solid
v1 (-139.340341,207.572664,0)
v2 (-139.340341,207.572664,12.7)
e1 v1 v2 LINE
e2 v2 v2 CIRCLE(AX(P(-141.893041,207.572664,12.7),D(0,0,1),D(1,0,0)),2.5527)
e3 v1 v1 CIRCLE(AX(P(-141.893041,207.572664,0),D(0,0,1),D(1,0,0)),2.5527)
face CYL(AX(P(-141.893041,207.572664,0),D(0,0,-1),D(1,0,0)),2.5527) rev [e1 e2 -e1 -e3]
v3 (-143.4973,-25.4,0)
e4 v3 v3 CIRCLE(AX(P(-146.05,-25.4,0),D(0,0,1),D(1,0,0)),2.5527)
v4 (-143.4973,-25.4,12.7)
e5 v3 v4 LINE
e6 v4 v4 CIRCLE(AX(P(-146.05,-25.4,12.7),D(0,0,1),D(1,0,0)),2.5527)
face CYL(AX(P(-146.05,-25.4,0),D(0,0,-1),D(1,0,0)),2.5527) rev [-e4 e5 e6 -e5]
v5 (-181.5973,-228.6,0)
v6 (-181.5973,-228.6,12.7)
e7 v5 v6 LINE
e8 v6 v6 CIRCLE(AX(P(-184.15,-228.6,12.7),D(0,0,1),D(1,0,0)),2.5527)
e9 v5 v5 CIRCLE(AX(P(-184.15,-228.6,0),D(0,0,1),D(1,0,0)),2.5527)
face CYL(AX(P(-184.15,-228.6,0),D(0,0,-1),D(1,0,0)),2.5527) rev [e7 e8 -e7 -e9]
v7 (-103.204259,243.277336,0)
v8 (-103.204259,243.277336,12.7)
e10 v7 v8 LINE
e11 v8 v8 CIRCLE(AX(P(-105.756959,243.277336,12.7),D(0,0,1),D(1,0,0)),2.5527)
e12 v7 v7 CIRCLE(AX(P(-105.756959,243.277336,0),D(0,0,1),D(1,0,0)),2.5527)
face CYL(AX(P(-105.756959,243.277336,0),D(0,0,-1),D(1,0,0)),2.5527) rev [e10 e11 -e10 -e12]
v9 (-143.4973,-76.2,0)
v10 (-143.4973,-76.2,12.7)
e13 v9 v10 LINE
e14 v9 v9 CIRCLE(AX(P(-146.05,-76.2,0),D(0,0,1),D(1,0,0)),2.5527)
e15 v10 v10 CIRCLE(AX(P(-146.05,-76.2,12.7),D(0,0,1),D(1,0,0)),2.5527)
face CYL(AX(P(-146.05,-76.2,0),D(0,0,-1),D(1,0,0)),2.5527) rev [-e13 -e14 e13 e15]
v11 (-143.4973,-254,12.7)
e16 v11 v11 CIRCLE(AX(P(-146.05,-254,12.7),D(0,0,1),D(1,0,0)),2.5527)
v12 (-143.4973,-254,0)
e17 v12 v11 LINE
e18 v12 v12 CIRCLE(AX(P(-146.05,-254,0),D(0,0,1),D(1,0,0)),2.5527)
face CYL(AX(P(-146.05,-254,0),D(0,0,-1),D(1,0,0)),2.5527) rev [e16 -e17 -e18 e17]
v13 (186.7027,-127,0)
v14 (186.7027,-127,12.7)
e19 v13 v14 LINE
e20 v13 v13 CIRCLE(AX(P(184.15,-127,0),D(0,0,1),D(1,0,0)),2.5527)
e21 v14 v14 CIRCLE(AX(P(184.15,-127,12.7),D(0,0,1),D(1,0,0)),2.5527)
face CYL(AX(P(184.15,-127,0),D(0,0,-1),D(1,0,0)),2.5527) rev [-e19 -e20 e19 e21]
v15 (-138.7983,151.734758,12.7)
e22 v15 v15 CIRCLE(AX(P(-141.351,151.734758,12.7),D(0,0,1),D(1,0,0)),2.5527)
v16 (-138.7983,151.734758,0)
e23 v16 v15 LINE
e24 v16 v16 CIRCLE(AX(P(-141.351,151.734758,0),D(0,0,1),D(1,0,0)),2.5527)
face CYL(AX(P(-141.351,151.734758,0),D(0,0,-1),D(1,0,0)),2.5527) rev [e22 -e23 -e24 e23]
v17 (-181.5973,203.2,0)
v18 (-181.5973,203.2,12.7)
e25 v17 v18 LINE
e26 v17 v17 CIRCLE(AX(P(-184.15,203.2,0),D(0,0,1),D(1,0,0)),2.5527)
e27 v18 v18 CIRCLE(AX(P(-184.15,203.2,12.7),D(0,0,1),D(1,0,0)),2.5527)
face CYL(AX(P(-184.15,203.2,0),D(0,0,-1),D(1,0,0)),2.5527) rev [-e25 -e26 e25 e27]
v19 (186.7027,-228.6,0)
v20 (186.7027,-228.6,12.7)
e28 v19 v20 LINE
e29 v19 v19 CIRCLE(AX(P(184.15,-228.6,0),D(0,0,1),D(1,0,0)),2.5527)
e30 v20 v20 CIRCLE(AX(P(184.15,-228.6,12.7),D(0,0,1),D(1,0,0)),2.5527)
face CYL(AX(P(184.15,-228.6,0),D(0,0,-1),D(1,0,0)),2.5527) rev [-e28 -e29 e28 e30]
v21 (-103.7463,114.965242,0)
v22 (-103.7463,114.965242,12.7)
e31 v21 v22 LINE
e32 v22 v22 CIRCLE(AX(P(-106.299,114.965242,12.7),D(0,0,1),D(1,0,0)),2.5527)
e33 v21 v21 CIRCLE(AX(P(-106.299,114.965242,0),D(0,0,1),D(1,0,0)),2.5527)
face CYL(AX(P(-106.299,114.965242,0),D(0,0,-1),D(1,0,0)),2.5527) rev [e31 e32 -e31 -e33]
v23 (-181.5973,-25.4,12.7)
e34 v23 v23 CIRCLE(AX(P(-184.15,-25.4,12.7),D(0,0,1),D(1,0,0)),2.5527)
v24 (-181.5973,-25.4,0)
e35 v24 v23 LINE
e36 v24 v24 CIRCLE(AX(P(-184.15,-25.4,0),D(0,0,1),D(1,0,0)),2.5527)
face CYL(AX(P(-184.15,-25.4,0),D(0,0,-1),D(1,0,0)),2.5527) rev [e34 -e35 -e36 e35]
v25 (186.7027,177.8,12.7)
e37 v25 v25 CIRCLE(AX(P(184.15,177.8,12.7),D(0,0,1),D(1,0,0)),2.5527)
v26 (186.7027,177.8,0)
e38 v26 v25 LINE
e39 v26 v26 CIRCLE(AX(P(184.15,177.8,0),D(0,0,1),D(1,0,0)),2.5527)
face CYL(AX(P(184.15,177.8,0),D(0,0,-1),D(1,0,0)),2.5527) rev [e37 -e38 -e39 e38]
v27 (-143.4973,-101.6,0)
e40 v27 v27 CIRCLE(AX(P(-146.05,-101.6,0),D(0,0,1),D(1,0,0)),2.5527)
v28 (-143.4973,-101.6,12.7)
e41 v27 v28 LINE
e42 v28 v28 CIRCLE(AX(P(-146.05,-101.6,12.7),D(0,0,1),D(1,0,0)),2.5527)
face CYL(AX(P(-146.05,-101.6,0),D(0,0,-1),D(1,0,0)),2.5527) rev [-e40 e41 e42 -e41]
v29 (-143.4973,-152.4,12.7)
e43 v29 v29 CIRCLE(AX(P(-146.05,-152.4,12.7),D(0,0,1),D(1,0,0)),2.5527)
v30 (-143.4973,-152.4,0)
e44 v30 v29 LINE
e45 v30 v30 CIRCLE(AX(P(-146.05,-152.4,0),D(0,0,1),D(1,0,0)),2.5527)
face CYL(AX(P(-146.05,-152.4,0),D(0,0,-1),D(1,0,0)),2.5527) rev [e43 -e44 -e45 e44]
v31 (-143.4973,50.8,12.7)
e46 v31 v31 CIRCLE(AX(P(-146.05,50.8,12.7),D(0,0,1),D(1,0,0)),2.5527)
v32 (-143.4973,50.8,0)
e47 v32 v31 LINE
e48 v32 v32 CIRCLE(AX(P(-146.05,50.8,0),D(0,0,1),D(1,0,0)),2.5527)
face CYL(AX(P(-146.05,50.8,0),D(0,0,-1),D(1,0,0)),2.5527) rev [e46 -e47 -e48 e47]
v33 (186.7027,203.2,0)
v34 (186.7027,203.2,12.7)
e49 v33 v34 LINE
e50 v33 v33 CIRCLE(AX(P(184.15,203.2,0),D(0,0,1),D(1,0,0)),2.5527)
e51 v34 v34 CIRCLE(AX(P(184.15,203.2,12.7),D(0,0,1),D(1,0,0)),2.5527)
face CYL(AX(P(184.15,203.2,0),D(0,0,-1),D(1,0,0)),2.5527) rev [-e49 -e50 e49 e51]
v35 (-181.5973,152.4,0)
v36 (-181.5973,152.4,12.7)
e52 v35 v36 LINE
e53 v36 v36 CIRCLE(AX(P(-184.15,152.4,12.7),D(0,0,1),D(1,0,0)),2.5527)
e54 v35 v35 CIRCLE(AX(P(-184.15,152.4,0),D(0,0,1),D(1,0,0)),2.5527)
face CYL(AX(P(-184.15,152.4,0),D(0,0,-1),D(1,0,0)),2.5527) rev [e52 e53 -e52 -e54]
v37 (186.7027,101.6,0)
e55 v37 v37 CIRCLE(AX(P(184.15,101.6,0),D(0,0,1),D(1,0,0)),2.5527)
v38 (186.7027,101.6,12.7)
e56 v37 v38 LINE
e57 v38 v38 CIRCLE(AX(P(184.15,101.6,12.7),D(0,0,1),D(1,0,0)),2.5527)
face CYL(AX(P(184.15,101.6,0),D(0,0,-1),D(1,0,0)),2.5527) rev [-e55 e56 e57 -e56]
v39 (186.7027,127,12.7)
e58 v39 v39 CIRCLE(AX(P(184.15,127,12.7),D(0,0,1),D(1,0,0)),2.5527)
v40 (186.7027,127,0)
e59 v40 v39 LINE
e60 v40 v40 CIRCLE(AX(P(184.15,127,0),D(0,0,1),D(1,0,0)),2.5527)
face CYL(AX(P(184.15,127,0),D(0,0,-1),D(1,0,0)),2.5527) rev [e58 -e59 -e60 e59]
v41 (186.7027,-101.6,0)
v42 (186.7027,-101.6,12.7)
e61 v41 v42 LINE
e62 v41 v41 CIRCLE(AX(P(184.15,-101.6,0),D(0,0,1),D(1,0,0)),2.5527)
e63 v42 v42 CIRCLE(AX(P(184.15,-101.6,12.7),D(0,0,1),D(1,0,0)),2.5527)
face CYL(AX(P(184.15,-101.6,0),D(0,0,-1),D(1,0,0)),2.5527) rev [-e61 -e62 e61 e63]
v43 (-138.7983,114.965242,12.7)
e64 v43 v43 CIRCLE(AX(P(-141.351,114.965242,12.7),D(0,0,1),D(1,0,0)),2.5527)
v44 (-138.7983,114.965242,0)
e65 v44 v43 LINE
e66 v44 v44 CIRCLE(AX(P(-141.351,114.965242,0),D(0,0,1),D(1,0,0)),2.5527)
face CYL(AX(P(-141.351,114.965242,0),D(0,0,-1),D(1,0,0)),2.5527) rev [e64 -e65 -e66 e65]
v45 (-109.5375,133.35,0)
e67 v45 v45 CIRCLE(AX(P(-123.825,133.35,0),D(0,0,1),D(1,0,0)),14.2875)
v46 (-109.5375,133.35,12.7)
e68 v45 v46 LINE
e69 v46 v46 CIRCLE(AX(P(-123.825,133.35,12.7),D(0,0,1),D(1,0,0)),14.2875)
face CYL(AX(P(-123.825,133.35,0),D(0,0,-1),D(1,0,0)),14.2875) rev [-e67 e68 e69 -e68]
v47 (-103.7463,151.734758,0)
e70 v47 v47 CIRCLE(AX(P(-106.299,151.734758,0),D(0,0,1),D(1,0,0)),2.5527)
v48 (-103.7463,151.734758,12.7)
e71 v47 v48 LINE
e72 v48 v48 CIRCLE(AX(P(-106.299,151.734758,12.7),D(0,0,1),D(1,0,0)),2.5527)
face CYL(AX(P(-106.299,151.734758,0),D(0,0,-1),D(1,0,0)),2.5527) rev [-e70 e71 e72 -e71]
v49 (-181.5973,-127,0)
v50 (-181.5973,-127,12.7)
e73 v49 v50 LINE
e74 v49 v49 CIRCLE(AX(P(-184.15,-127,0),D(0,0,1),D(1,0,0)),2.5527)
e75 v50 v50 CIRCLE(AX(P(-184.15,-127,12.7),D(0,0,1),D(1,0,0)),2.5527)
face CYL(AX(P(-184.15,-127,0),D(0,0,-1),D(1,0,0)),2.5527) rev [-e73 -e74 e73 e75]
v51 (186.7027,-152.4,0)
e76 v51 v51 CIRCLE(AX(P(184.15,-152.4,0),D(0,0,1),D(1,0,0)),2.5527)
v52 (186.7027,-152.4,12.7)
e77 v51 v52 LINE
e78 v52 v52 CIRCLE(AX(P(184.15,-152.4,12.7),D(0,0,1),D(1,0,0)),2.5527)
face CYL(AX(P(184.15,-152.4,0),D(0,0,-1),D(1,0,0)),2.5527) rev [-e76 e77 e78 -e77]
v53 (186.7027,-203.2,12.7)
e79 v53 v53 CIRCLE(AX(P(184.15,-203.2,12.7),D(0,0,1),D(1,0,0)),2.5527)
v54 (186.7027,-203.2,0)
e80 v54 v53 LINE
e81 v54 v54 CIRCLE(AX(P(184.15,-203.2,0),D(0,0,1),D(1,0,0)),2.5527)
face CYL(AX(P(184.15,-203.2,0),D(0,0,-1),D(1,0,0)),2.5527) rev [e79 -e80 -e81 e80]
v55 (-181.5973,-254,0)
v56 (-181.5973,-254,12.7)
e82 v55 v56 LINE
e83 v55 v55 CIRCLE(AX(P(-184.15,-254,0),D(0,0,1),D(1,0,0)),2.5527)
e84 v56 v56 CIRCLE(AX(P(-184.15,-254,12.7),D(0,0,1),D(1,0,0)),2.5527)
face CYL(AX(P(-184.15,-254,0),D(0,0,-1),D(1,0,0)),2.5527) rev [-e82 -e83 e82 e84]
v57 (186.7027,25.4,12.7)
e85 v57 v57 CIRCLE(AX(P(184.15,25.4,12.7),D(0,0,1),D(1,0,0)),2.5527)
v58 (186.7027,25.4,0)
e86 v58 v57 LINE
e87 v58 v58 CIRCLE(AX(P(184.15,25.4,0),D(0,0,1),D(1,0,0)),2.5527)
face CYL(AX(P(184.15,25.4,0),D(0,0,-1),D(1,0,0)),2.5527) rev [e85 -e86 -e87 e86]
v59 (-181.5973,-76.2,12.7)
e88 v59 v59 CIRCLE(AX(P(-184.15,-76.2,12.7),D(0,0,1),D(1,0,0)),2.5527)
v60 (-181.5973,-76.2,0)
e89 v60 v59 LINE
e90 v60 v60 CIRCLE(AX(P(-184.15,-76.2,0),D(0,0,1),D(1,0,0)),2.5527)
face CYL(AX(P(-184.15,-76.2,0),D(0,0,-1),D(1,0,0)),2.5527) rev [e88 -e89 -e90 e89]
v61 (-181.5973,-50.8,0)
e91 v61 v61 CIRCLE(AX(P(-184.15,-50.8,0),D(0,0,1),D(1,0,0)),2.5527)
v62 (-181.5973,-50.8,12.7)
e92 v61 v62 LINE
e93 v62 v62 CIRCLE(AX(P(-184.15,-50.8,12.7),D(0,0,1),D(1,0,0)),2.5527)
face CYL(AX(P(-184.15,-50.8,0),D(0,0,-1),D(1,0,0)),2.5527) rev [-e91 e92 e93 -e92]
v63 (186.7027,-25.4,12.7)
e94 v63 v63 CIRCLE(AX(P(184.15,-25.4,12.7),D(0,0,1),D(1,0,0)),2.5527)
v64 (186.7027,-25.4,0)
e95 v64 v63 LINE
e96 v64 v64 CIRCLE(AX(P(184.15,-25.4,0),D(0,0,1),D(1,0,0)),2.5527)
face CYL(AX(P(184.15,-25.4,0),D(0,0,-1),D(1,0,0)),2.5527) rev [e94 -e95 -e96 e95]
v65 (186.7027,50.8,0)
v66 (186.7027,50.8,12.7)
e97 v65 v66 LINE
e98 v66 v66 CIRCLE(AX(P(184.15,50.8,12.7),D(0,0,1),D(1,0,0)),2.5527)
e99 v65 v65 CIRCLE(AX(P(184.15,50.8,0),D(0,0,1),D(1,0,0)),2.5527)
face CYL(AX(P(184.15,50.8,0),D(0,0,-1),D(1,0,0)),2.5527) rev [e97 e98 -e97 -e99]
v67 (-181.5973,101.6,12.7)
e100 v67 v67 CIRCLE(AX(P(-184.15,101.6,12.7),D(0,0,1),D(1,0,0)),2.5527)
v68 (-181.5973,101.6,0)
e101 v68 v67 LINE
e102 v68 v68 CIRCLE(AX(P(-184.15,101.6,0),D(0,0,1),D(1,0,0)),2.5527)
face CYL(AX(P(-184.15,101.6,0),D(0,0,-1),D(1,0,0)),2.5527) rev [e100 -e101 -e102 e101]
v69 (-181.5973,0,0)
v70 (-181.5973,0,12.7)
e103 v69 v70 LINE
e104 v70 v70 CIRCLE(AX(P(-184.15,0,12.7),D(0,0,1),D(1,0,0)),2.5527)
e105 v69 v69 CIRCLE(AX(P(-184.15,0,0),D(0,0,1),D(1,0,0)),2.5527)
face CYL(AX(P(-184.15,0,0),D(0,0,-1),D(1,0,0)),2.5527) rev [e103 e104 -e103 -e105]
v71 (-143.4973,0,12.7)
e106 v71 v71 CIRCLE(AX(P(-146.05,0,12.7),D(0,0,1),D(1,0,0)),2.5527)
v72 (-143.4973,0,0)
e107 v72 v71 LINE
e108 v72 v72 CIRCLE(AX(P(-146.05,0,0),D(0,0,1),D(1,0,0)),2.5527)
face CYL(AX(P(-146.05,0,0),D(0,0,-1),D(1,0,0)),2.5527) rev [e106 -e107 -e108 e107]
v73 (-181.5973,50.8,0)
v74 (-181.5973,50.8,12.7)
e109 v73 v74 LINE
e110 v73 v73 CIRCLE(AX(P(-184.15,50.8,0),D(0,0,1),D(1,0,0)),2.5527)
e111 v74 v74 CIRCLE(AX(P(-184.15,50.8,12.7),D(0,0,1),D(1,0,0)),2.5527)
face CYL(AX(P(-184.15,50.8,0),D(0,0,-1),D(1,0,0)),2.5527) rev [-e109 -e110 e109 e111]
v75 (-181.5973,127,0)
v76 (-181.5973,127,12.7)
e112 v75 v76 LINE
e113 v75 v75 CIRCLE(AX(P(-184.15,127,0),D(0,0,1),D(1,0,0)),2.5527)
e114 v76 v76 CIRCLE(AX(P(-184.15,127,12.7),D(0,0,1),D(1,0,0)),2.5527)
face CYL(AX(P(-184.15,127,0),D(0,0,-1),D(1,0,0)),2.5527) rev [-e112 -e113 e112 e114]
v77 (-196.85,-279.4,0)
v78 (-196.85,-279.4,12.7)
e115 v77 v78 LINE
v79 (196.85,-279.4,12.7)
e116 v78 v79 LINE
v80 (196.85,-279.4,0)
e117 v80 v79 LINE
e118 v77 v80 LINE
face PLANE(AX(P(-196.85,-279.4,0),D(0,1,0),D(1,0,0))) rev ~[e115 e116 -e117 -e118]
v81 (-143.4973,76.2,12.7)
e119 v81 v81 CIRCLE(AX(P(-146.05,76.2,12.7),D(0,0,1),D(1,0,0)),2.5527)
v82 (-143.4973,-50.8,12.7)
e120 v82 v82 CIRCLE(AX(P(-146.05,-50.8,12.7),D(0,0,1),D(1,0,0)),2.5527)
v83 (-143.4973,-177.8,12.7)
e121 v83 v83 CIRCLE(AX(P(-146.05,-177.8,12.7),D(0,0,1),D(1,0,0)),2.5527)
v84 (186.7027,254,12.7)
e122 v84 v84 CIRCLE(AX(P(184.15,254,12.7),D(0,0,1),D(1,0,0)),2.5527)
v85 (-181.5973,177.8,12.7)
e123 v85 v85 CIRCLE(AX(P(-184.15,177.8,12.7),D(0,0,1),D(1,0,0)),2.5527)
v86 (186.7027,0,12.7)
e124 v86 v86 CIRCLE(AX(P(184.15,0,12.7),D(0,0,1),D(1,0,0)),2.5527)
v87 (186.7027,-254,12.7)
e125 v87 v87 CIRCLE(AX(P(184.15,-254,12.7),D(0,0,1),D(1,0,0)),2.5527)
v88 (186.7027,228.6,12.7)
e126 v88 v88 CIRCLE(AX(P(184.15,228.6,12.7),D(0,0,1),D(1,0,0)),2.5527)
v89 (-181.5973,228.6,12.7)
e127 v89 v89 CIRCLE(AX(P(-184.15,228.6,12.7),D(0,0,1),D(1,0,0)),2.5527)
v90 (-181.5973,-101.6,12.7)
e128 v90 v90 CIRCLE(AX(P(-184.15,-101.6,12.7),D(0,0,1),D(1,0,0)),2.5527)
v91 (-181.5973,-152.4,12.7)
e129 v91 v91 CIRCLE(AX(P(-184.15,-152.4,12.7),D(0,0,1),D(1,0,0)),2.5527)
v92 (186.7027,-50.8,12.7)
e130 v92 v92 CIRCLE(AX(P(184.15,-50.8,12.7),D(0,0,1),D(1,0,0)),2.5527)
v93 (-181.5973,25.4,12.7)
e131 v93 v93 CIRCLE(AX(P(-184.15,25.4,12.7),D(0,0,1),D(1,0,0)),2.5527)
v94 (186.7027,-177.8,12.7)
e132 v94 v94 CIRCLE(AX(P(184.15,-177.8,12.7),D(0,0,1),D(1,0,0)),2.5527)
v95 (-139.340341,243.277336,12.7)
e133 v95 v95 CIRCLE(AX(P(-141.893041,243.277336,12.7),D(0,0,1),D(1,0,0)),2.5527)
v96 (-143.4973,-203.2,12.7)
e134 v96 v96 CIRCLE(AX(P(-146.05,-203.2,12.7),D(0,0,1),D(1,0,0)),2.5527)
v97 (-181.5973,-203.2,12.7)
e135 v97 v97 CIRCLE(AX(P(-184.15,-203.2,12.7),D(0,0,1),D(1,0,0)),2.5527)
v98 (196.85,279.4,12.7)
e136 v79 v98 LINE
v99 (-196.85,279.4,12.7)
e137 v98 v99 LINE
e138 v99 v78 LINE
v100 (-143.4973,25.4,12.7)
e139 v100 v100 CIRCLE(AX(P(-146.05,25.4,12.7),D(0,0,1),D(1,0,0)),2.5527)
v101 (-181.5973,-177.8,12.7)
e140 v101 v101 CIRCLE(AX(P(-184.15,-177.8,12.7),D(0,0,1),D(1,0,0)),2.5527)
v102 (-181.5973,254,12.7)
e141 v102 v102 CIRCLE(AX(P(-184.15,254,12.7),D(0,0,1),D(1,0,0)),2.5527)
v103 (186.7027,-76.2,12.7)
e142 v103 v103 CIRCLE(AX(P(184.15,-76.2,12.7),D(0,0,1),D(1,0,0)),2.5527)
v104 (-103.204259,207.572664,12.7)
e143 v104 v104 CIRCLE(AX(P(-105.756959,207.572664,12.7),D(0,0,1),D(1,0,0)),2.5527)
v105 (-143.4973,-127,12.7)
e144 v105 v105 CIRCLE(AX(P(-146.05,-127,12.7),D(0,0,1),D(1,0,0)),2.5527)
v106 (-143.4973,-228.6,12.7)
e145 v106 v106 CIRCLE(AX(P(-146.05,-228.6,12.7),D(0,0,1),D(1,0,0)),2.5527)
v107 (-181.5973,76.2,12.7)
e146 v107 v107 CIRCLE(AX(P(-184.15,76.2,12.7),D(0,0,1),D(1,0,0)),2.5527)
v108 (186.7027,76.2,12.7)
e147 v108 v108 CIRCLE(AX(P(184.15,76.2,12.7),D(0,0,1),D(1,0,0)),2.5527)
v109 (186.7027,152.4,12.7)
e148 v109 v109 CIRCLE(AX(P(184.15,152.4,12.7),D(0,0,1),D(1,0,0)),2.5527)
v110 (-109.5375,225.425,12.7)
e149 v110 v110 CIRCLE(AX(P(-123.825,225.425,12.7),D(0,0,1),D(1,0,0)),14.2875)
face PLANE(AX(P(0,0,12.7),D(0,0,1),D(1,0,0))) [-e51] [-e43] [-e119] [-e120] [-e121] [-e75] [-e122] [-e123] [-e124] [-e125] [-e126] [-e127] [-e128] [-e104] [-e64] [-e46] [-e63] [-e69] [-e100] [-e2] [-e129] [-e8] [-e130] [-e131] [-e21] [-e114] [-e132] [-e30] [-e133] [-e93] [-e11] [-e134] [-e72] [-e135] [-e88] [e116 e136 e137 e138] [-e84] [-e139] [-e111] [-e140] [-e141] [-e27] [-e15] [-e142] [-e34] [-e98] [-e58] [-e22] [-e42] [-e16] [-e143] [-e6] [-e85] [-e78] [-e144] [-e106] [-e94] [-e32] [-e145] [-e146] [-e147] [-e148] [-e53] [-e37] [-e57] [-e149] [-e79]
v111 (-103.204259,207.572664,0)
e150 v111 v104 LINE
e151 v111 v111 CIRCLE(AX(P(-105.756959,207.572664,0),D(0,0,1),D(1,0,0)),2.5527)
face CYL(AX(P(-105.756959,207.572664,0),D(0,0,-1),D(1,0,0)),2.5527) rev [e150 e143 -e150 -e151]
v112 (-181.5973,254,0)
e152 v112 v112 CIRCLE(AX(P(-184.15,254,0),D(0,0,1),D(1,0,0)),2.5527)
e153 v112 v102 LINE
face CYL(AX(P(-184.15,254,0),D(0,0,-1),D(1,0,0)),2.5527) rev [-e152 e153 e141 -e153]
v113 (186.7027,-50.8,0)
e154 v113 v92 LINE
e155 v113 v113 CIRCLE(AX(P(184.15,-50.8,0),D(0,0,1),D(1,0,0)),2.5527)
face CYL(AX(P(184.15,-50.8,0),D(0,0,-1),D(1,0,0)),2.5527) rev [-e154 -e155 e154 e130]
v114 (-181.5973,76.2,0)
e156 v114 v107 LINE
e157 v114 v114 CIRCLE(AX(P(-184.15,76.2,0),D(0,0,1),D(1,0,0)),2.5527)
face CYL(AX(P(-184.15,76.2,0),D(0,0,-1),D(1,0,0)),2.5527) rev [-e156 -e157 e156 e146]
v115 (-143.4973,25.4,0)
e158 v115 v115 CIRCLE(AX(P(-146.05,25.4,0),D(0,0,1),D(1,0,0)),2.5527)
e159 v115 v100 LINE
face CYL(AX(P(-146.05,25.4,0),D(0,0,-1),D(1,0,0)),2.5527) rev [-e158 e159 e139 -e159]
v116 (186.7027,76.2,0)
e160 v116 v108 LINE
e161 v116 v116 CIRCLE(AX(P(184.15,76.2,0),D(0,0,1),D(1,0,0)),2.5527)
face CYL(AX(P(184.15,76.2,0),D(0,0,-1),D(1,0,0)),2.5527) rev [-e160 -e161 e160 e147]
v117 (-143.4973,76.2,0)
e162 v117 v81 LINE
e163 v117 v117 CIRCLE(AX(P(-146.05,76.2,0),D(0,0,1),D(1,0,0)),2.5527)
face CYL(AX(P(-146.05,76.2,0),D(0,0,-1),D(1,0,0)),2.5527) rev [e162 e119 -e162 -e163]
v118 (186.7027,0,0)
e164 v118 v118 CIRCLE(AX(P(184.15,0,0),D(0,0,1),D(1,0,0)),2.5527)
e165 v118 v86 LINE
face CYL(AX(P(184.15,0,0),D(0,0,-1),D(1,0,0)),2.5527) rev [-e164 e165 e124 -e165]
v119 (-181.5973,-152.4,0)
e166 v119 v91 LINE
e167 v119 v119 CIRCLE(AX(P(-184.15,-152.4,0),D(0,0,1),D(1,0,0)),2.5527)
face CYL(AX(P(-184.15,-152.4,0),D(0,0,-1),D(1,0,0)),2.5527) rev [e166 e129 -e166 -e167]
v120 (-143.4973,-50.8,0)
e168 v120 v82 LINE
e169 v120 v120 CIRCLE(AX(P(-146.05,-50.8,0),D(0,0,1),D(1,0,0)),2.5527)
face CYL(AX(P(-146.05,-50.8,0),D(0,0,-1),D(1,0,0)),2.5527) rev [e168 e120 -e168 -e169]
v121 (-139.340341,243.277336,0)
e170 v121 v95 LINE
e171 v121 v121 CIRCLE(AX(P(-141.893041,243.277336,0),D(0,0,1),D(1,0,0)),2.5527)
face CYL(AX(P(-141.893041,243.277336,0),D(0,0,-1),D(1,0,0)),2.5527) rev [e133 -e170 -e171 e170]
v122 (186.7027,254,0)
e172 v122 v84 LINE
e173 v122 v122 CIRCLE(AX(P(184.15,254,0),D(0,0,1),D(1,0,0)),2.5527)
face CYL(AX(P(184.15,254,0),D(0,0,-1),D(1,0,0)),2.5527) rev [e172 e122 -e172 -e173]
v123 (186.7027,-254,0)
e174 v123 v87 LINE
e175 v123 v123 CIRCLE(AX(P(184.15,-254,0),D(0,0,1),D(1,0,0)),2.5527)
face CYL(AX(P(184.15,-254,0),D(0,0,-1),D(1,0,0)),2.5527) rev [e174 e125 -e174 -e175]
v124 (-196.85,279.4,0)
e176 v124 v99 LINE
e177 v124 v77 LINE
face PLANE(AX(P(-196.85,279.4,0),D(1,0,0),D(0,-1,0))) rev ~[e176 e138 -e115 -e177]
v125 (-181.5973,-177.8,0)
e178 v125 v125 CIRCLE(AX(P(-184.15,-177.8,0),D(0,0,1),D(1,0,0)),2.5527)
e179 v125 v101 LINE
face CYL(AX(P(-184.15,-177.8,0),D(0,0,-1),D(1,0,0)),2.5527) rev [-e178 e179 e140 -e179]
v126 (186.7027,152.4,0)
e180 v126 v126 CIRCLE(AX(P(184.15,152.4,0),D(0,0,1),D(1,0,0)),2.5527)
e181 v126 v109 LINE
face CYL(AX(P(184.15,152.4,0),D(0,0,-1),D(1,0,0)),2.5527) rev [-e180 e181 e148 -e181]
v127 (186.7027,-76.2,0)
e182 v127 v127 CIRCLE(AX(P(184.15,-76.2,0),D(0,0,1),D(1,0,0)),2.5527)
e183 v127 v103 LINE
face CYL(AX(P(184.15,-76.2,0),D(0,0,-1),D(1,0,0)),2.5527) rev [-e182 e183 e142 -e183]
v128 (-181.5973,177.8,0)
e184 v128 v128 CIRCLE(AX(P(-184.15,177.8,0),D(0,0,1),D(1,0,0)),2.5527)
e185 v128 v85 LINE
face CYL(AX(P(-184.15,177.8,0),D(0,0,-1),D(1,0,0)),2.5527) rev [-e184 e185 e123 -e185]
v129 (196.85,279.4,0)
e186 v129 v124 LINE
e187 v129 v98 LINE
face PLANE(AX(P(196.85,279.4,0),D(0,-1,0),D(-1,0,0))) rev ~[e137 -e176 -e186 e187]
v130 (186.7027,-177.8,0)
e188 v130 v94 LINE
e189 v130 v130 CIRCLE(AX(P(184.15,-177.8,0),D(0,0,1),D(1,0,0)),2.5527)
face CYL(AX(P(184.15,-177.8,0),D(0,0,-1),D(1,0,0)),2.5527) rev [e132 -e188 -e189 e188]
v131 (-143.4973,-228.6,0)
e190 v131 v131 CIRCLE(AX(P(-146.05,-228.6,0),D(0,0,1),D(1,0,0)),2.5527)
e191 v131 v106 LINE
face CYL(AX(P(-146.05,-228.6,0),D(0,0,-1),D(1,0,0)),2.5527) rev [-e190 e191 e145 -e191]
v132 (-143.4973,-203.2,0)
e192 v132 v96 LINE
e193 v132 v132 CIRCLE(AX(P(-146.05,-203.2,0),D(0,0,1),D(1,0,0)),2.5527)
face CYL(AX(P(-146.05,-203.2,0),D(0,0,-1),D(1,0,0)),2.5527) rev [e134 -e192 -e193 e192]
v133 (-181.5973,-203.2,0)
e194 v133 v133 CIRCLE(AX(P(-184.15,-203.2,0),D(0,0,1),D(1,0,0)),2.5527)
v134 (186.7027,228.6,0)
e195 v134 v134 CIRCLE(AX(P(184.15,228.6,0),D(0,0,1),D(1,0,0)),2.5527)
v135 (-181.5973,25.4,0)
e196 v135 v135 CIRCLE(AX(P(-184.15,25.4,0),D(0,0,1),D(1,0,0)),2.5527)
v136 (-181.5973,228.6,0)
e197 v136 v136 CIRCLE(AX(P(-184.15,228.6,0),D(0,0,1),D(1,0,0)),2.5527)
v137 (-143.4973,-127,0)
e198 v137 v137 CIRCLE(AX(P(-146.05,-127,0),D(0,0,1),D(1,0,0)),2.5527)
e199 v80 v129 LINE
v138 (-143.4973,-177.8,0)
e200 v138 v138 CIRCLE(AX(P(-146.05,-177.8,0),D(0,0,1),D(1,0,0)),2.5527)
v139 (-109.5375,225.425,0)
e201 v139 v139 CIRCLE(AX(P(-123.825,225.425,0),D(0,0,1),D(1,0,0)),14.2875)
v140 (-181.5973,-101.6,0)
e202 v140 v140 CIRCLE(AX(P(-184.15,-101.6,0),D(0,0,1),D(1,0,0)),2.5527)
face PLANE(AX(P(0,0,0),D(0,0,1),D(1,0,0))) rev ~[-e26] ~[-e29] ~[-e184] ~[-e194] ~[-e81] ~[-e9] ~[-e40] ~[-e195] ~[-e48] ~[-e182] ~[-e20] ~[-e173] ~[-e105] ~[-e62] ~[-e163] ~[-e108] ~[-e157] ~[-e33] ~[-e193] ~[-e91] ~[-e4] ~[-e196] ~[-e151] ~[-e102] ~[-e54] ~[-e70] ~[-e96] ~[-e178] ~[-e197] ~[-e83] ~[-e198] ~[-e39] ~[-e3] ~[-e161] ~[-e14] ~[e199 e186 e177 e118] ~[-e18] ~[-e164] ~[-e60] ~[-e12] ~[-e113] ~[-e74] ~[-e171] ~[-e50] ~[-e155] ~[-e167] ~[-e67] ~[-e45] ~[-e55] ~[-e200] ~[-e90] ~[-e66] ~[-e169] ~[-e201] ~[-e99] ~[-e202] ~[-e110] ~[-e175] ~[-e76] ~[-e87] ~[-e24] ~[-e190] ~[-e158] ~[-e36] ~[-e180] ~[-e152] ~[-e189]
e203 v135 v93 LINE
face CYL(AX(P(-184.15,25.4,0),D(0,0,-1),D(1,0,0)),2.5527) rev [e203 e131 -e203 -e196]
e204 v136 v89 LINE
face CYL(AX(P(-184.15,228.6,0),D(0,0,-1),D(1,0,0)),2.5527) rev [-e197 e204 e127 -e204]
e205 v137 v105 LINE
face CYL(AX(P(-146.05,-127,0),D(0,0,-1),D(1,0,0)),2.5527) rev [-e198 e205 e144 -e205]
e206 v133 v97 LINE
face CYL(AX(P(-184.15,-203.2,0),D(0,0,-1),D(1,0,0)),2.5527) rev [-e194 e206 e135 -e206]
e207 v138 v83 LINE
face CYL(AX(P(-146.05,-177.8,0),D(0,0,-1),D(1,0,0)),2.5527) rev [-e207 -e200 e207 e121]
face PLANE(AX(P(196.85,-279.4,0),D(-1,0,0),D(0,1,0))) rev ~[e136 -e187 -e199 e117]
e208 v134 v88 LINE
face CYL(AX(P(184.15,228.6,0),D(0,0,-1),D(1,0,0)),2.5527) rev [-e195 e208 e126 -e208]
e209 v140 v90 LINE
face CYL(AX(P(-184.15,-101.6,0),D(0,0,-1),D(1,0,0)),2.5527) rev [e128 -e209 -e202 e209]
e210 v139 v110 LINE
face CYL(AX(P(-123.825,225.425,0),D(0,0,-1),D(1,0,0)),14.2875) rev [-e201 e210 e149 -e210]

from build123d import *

# Parameters (mm, degrees)
F0_R     = 2.5527
F0_R_2   = 14.2875
F1_DEPTH = 12.7


with BuildPart() as f1:
    # F0 (on Top) → F1 (new body)
    with BuildSketch(Plane.XY):
        Polygon((171.45, -279.4), (196.85, -279.4), (196.85, 279.4), (171.45, 279.4), (-171.45, 279.4), (-196.85, 279.4), (-196.85, -279.4), (-171.45, -279.4), (-158.75, -279.4), (-133.35, -279.4), align=None)
        with Locations((-184.15, -254)):
            Circle(F0_R, mode=Mode.SUBTRACT)
        with Locations((-184.15, -228.6)):
            Circle(F0_R, mode=Mode.SUBTRACT)
        with Locations((-146.05, -254)):
            Circle(F0_R, mode=Mode.SUBTRACT)
        with Locations((-146.05, -228.6)):
            Circle(F0_R, mode=Mode.SUBTRACT)
        with Locations((-184.15, -203.2)):
            Circle(F0_R, mode=Mode.SUBTRACT)
        with Locations((-184.15, -177.8)):
            Circle(F0_R, mode=Mode.SUBTRACT)
        with Locations((-184.15, -152.4)):
            Circle(F0_R, mode=Mode.SUBTRACT)
        with Locations((-146.05, -203.2)):
            Circle(F0_R, mode=Mode.SUBTRACT)
        with Locations((-146.05, -177.8)):
            Circle(F0_R, mode=Mode.SUBTRACT)
        with Locations((-146.05, -152.4)):
            Circle(F0_R, mode=Mode.SUBTRACT)
        with Locations((-184.15, -127)):
            Circle(F0_R, mode=Mode.SUBTRACT)
        with Locations((-184.15, -101.6)):
            Circle(F0_R, mode=Mode.SUBTRACT)
        with Locations((-184.15, -76.2)):
            Circle(F0_R, mode=Mode.SUBTRACT)
        with Locations((-146.05, -127)):
            Circle(F0_R, mode=Mode.SUBTRACT)
        with Locations((-146.05, -101.6)):
            Circle(F0_R, mode=Mode.SUBTRACT)
        with Locations((-146.05, -76.2)):
            Circle(F0_R, mode=Mode.SUBTRACT)
        with Locations((-184.15, -50.8)):
            Circle(F0_R, mode=Mode.SUBTRACT)
        with Locations((-184.15, -25.4)):
            Circle(F0_R, mode=Mode.SUBTRACT)
        with Locations((-146.05, -50.8)):
            Circle(F0_R, mode=Mode.SUBTRACT)
        with Locations((-146.05, -25.4)):
            Circle(F0_R, mode=Mode.SUBTRACT)
        with Locations((184.15, -254)):
            Circle(F0_R, mode=Mode.SUBTRACT)
        with Locations((184.15, -228.6)):
            Circle(F0_R, mode=Mode.SUBTRACT)
        with Locations((184.15, -203.2)):
            Circle(F0_R, mode=Mode.SUBTRACT)
        with Locations((184.15, -177.8)):
            Circle(F0_R, mode=Mode.SUBTRACT)
        with Locations((184.15, -152.4)):
            Circle(F0_R, mode=Mode.SUBTRACT)
        with Locations((184.15, -127)):
            Circle(F0_R, mode=Mode.SUBTRACT)
        with Locations((184.15, -101.6)):
            Circle(F0_R, mode=Mode.SUBTRACT)
        with Locations((184.15, -76.2)):
            Circle(F0_R, mode=Mode.SUBTRACT)
        with Locations((184.15, -50.8)):
            Circle(F0_R, mode=Mode.SUBTRACT)
        with Locations((184.15, -25.4)):
            Circle(F0_R, mode=Mode.SUBTRACT)
        with Locations((-184.15, 0)):
            Circle(F0_R, mode=Mode.SUBTRACT)
        with Locations((-184.15, 25.4)):
            Circle(F0_R, mode=Mode.SUBTRACT)
        with Locations((-184.15, 50.8)):
            Circle(F0_R, mode=Mode.SUBTRACT)
        with Locations((-146.05, 0)):
            Circle(F0_R, mode=Mode.SUBTRACT)
        with Locations((-146.05, 25.4)):
            Circle(F0_R, mode=Mode.SUBTRACT)
        with Locations((-146.05, 50.8)):
            Circle(F0_R, mode=Mode.SUBTRACT)
        with Locations((-184.15, 76.2)):
            Circle(F0_R, mode=Mode.SUBTRACT)
        with Locations((-184.15, 101.6)):
            Circle(F0_R, mode=Mode.SUBTRACT)
        with Locations((-184.15, 127)):
            Circle(F0_R, mode=Mode.SUBTRACT)
        with Locations((-146.05, 76.2)):
            Circle(F0_R, mode=Mode.SUBTRACT)
        with Locations((-141.351, 114.965242)):
            Circle(F0_R, mode=Mode.SUBTRACT)
        with Locations((-123.825, 133.35)):
            Circle(F0_R_2, mode=Mode.SUBTRACT)
        with Locations((-106.299, 114.965242)):
            Circle(F0_R, mode=Mode.SUBTRACT)
        with Locations((-184.15, 152.4)):
            Circle(F0_R, mode=Mode.SUBTRACT)
        with Locations((-184.15, 177.8)):
            Circle(F0_R, mode=Mode.SUBTRACT)
        with Locations((-184.15, 203.2)):
            Circle(F0_R, mode=Mode.SUBTRACT)
        with Locations((-141.351, 151.734758)):
            Circle(F0_R, mode=Mode.SUBTRACT)
        with Locations((-106.299, 151.734758)):
            Circle(F0_R, mode=Mode.SUBTRACT)
        with Locations((-141.893041, 207.572664)):
            Circle(F0_R, mode=Mode.SUBTRACT)
        with Locations((-105.756959, 207.572664)):
            Circle(F0_R, mode=Mode.SUBTRACT)
        with Locations((-184.15, 228.6)):
            Circle(F0_R, mode=Mode.SUBTRACT)
        with Locations((-184.15, 254)):
            Circle(F0_R, mode=Mode.SUBTRACT)
        with Locations((-123.825, 225.425)):
            Circle(F0_R_2, mode=Mode.SUBTRACT)
        with Locations((-141.893041, 243.277336)):
            Circle(F0_R, mode=Mode.SUBTRACT)
        with Locations((-105.756959, 243.277336)):
            Circle(F0_R, mode=Mode.SUBTRACT)
        with Locations((184.15, 0)):
            Circle(F0_R, mode=Mode.SUBTRACT)
        with Locations((184.15, 25.4)):
            Circle(F0_R, mode=Mode.SUBTRACT)
        with Locations((184.15, 50.8)):
            Circle(F0_R, mode=Mode.SUBTRACT)
        with Locations((184.15, 76.2)):
            Circle(F0_R, mode=Mode.SUBTRACT)
        with Locations((184.15, 101.6)):
            Circle(F0_R, mode=Mode.SUBTRACT)
        with Locations((184.15, 127)):
            Circle(F0_R, mode=Mode.SUBTRACT)
        with Locations((184.15, 152.4)):
            Circle(F0_R, mode=Mode.SUBTRACT)
        with Locations((184.15, 177.8)):
            Circle(F0_R, mode=Mode.SUBTRACT)
        with Locations((184.15, 203.2)):
            Circle(F0_R, mode=Mode.SUBTRACT)
        with Locations((184.15, 228.6)):
            Circle(F0_R, mode=Mode.SUBTRACT)
        with Locations((184.15, 254)):
            Circle(F0_R, mode=Mode.SUBTRACT)
    extrude(amount=F1_DEPTH)


solid = f1.part
